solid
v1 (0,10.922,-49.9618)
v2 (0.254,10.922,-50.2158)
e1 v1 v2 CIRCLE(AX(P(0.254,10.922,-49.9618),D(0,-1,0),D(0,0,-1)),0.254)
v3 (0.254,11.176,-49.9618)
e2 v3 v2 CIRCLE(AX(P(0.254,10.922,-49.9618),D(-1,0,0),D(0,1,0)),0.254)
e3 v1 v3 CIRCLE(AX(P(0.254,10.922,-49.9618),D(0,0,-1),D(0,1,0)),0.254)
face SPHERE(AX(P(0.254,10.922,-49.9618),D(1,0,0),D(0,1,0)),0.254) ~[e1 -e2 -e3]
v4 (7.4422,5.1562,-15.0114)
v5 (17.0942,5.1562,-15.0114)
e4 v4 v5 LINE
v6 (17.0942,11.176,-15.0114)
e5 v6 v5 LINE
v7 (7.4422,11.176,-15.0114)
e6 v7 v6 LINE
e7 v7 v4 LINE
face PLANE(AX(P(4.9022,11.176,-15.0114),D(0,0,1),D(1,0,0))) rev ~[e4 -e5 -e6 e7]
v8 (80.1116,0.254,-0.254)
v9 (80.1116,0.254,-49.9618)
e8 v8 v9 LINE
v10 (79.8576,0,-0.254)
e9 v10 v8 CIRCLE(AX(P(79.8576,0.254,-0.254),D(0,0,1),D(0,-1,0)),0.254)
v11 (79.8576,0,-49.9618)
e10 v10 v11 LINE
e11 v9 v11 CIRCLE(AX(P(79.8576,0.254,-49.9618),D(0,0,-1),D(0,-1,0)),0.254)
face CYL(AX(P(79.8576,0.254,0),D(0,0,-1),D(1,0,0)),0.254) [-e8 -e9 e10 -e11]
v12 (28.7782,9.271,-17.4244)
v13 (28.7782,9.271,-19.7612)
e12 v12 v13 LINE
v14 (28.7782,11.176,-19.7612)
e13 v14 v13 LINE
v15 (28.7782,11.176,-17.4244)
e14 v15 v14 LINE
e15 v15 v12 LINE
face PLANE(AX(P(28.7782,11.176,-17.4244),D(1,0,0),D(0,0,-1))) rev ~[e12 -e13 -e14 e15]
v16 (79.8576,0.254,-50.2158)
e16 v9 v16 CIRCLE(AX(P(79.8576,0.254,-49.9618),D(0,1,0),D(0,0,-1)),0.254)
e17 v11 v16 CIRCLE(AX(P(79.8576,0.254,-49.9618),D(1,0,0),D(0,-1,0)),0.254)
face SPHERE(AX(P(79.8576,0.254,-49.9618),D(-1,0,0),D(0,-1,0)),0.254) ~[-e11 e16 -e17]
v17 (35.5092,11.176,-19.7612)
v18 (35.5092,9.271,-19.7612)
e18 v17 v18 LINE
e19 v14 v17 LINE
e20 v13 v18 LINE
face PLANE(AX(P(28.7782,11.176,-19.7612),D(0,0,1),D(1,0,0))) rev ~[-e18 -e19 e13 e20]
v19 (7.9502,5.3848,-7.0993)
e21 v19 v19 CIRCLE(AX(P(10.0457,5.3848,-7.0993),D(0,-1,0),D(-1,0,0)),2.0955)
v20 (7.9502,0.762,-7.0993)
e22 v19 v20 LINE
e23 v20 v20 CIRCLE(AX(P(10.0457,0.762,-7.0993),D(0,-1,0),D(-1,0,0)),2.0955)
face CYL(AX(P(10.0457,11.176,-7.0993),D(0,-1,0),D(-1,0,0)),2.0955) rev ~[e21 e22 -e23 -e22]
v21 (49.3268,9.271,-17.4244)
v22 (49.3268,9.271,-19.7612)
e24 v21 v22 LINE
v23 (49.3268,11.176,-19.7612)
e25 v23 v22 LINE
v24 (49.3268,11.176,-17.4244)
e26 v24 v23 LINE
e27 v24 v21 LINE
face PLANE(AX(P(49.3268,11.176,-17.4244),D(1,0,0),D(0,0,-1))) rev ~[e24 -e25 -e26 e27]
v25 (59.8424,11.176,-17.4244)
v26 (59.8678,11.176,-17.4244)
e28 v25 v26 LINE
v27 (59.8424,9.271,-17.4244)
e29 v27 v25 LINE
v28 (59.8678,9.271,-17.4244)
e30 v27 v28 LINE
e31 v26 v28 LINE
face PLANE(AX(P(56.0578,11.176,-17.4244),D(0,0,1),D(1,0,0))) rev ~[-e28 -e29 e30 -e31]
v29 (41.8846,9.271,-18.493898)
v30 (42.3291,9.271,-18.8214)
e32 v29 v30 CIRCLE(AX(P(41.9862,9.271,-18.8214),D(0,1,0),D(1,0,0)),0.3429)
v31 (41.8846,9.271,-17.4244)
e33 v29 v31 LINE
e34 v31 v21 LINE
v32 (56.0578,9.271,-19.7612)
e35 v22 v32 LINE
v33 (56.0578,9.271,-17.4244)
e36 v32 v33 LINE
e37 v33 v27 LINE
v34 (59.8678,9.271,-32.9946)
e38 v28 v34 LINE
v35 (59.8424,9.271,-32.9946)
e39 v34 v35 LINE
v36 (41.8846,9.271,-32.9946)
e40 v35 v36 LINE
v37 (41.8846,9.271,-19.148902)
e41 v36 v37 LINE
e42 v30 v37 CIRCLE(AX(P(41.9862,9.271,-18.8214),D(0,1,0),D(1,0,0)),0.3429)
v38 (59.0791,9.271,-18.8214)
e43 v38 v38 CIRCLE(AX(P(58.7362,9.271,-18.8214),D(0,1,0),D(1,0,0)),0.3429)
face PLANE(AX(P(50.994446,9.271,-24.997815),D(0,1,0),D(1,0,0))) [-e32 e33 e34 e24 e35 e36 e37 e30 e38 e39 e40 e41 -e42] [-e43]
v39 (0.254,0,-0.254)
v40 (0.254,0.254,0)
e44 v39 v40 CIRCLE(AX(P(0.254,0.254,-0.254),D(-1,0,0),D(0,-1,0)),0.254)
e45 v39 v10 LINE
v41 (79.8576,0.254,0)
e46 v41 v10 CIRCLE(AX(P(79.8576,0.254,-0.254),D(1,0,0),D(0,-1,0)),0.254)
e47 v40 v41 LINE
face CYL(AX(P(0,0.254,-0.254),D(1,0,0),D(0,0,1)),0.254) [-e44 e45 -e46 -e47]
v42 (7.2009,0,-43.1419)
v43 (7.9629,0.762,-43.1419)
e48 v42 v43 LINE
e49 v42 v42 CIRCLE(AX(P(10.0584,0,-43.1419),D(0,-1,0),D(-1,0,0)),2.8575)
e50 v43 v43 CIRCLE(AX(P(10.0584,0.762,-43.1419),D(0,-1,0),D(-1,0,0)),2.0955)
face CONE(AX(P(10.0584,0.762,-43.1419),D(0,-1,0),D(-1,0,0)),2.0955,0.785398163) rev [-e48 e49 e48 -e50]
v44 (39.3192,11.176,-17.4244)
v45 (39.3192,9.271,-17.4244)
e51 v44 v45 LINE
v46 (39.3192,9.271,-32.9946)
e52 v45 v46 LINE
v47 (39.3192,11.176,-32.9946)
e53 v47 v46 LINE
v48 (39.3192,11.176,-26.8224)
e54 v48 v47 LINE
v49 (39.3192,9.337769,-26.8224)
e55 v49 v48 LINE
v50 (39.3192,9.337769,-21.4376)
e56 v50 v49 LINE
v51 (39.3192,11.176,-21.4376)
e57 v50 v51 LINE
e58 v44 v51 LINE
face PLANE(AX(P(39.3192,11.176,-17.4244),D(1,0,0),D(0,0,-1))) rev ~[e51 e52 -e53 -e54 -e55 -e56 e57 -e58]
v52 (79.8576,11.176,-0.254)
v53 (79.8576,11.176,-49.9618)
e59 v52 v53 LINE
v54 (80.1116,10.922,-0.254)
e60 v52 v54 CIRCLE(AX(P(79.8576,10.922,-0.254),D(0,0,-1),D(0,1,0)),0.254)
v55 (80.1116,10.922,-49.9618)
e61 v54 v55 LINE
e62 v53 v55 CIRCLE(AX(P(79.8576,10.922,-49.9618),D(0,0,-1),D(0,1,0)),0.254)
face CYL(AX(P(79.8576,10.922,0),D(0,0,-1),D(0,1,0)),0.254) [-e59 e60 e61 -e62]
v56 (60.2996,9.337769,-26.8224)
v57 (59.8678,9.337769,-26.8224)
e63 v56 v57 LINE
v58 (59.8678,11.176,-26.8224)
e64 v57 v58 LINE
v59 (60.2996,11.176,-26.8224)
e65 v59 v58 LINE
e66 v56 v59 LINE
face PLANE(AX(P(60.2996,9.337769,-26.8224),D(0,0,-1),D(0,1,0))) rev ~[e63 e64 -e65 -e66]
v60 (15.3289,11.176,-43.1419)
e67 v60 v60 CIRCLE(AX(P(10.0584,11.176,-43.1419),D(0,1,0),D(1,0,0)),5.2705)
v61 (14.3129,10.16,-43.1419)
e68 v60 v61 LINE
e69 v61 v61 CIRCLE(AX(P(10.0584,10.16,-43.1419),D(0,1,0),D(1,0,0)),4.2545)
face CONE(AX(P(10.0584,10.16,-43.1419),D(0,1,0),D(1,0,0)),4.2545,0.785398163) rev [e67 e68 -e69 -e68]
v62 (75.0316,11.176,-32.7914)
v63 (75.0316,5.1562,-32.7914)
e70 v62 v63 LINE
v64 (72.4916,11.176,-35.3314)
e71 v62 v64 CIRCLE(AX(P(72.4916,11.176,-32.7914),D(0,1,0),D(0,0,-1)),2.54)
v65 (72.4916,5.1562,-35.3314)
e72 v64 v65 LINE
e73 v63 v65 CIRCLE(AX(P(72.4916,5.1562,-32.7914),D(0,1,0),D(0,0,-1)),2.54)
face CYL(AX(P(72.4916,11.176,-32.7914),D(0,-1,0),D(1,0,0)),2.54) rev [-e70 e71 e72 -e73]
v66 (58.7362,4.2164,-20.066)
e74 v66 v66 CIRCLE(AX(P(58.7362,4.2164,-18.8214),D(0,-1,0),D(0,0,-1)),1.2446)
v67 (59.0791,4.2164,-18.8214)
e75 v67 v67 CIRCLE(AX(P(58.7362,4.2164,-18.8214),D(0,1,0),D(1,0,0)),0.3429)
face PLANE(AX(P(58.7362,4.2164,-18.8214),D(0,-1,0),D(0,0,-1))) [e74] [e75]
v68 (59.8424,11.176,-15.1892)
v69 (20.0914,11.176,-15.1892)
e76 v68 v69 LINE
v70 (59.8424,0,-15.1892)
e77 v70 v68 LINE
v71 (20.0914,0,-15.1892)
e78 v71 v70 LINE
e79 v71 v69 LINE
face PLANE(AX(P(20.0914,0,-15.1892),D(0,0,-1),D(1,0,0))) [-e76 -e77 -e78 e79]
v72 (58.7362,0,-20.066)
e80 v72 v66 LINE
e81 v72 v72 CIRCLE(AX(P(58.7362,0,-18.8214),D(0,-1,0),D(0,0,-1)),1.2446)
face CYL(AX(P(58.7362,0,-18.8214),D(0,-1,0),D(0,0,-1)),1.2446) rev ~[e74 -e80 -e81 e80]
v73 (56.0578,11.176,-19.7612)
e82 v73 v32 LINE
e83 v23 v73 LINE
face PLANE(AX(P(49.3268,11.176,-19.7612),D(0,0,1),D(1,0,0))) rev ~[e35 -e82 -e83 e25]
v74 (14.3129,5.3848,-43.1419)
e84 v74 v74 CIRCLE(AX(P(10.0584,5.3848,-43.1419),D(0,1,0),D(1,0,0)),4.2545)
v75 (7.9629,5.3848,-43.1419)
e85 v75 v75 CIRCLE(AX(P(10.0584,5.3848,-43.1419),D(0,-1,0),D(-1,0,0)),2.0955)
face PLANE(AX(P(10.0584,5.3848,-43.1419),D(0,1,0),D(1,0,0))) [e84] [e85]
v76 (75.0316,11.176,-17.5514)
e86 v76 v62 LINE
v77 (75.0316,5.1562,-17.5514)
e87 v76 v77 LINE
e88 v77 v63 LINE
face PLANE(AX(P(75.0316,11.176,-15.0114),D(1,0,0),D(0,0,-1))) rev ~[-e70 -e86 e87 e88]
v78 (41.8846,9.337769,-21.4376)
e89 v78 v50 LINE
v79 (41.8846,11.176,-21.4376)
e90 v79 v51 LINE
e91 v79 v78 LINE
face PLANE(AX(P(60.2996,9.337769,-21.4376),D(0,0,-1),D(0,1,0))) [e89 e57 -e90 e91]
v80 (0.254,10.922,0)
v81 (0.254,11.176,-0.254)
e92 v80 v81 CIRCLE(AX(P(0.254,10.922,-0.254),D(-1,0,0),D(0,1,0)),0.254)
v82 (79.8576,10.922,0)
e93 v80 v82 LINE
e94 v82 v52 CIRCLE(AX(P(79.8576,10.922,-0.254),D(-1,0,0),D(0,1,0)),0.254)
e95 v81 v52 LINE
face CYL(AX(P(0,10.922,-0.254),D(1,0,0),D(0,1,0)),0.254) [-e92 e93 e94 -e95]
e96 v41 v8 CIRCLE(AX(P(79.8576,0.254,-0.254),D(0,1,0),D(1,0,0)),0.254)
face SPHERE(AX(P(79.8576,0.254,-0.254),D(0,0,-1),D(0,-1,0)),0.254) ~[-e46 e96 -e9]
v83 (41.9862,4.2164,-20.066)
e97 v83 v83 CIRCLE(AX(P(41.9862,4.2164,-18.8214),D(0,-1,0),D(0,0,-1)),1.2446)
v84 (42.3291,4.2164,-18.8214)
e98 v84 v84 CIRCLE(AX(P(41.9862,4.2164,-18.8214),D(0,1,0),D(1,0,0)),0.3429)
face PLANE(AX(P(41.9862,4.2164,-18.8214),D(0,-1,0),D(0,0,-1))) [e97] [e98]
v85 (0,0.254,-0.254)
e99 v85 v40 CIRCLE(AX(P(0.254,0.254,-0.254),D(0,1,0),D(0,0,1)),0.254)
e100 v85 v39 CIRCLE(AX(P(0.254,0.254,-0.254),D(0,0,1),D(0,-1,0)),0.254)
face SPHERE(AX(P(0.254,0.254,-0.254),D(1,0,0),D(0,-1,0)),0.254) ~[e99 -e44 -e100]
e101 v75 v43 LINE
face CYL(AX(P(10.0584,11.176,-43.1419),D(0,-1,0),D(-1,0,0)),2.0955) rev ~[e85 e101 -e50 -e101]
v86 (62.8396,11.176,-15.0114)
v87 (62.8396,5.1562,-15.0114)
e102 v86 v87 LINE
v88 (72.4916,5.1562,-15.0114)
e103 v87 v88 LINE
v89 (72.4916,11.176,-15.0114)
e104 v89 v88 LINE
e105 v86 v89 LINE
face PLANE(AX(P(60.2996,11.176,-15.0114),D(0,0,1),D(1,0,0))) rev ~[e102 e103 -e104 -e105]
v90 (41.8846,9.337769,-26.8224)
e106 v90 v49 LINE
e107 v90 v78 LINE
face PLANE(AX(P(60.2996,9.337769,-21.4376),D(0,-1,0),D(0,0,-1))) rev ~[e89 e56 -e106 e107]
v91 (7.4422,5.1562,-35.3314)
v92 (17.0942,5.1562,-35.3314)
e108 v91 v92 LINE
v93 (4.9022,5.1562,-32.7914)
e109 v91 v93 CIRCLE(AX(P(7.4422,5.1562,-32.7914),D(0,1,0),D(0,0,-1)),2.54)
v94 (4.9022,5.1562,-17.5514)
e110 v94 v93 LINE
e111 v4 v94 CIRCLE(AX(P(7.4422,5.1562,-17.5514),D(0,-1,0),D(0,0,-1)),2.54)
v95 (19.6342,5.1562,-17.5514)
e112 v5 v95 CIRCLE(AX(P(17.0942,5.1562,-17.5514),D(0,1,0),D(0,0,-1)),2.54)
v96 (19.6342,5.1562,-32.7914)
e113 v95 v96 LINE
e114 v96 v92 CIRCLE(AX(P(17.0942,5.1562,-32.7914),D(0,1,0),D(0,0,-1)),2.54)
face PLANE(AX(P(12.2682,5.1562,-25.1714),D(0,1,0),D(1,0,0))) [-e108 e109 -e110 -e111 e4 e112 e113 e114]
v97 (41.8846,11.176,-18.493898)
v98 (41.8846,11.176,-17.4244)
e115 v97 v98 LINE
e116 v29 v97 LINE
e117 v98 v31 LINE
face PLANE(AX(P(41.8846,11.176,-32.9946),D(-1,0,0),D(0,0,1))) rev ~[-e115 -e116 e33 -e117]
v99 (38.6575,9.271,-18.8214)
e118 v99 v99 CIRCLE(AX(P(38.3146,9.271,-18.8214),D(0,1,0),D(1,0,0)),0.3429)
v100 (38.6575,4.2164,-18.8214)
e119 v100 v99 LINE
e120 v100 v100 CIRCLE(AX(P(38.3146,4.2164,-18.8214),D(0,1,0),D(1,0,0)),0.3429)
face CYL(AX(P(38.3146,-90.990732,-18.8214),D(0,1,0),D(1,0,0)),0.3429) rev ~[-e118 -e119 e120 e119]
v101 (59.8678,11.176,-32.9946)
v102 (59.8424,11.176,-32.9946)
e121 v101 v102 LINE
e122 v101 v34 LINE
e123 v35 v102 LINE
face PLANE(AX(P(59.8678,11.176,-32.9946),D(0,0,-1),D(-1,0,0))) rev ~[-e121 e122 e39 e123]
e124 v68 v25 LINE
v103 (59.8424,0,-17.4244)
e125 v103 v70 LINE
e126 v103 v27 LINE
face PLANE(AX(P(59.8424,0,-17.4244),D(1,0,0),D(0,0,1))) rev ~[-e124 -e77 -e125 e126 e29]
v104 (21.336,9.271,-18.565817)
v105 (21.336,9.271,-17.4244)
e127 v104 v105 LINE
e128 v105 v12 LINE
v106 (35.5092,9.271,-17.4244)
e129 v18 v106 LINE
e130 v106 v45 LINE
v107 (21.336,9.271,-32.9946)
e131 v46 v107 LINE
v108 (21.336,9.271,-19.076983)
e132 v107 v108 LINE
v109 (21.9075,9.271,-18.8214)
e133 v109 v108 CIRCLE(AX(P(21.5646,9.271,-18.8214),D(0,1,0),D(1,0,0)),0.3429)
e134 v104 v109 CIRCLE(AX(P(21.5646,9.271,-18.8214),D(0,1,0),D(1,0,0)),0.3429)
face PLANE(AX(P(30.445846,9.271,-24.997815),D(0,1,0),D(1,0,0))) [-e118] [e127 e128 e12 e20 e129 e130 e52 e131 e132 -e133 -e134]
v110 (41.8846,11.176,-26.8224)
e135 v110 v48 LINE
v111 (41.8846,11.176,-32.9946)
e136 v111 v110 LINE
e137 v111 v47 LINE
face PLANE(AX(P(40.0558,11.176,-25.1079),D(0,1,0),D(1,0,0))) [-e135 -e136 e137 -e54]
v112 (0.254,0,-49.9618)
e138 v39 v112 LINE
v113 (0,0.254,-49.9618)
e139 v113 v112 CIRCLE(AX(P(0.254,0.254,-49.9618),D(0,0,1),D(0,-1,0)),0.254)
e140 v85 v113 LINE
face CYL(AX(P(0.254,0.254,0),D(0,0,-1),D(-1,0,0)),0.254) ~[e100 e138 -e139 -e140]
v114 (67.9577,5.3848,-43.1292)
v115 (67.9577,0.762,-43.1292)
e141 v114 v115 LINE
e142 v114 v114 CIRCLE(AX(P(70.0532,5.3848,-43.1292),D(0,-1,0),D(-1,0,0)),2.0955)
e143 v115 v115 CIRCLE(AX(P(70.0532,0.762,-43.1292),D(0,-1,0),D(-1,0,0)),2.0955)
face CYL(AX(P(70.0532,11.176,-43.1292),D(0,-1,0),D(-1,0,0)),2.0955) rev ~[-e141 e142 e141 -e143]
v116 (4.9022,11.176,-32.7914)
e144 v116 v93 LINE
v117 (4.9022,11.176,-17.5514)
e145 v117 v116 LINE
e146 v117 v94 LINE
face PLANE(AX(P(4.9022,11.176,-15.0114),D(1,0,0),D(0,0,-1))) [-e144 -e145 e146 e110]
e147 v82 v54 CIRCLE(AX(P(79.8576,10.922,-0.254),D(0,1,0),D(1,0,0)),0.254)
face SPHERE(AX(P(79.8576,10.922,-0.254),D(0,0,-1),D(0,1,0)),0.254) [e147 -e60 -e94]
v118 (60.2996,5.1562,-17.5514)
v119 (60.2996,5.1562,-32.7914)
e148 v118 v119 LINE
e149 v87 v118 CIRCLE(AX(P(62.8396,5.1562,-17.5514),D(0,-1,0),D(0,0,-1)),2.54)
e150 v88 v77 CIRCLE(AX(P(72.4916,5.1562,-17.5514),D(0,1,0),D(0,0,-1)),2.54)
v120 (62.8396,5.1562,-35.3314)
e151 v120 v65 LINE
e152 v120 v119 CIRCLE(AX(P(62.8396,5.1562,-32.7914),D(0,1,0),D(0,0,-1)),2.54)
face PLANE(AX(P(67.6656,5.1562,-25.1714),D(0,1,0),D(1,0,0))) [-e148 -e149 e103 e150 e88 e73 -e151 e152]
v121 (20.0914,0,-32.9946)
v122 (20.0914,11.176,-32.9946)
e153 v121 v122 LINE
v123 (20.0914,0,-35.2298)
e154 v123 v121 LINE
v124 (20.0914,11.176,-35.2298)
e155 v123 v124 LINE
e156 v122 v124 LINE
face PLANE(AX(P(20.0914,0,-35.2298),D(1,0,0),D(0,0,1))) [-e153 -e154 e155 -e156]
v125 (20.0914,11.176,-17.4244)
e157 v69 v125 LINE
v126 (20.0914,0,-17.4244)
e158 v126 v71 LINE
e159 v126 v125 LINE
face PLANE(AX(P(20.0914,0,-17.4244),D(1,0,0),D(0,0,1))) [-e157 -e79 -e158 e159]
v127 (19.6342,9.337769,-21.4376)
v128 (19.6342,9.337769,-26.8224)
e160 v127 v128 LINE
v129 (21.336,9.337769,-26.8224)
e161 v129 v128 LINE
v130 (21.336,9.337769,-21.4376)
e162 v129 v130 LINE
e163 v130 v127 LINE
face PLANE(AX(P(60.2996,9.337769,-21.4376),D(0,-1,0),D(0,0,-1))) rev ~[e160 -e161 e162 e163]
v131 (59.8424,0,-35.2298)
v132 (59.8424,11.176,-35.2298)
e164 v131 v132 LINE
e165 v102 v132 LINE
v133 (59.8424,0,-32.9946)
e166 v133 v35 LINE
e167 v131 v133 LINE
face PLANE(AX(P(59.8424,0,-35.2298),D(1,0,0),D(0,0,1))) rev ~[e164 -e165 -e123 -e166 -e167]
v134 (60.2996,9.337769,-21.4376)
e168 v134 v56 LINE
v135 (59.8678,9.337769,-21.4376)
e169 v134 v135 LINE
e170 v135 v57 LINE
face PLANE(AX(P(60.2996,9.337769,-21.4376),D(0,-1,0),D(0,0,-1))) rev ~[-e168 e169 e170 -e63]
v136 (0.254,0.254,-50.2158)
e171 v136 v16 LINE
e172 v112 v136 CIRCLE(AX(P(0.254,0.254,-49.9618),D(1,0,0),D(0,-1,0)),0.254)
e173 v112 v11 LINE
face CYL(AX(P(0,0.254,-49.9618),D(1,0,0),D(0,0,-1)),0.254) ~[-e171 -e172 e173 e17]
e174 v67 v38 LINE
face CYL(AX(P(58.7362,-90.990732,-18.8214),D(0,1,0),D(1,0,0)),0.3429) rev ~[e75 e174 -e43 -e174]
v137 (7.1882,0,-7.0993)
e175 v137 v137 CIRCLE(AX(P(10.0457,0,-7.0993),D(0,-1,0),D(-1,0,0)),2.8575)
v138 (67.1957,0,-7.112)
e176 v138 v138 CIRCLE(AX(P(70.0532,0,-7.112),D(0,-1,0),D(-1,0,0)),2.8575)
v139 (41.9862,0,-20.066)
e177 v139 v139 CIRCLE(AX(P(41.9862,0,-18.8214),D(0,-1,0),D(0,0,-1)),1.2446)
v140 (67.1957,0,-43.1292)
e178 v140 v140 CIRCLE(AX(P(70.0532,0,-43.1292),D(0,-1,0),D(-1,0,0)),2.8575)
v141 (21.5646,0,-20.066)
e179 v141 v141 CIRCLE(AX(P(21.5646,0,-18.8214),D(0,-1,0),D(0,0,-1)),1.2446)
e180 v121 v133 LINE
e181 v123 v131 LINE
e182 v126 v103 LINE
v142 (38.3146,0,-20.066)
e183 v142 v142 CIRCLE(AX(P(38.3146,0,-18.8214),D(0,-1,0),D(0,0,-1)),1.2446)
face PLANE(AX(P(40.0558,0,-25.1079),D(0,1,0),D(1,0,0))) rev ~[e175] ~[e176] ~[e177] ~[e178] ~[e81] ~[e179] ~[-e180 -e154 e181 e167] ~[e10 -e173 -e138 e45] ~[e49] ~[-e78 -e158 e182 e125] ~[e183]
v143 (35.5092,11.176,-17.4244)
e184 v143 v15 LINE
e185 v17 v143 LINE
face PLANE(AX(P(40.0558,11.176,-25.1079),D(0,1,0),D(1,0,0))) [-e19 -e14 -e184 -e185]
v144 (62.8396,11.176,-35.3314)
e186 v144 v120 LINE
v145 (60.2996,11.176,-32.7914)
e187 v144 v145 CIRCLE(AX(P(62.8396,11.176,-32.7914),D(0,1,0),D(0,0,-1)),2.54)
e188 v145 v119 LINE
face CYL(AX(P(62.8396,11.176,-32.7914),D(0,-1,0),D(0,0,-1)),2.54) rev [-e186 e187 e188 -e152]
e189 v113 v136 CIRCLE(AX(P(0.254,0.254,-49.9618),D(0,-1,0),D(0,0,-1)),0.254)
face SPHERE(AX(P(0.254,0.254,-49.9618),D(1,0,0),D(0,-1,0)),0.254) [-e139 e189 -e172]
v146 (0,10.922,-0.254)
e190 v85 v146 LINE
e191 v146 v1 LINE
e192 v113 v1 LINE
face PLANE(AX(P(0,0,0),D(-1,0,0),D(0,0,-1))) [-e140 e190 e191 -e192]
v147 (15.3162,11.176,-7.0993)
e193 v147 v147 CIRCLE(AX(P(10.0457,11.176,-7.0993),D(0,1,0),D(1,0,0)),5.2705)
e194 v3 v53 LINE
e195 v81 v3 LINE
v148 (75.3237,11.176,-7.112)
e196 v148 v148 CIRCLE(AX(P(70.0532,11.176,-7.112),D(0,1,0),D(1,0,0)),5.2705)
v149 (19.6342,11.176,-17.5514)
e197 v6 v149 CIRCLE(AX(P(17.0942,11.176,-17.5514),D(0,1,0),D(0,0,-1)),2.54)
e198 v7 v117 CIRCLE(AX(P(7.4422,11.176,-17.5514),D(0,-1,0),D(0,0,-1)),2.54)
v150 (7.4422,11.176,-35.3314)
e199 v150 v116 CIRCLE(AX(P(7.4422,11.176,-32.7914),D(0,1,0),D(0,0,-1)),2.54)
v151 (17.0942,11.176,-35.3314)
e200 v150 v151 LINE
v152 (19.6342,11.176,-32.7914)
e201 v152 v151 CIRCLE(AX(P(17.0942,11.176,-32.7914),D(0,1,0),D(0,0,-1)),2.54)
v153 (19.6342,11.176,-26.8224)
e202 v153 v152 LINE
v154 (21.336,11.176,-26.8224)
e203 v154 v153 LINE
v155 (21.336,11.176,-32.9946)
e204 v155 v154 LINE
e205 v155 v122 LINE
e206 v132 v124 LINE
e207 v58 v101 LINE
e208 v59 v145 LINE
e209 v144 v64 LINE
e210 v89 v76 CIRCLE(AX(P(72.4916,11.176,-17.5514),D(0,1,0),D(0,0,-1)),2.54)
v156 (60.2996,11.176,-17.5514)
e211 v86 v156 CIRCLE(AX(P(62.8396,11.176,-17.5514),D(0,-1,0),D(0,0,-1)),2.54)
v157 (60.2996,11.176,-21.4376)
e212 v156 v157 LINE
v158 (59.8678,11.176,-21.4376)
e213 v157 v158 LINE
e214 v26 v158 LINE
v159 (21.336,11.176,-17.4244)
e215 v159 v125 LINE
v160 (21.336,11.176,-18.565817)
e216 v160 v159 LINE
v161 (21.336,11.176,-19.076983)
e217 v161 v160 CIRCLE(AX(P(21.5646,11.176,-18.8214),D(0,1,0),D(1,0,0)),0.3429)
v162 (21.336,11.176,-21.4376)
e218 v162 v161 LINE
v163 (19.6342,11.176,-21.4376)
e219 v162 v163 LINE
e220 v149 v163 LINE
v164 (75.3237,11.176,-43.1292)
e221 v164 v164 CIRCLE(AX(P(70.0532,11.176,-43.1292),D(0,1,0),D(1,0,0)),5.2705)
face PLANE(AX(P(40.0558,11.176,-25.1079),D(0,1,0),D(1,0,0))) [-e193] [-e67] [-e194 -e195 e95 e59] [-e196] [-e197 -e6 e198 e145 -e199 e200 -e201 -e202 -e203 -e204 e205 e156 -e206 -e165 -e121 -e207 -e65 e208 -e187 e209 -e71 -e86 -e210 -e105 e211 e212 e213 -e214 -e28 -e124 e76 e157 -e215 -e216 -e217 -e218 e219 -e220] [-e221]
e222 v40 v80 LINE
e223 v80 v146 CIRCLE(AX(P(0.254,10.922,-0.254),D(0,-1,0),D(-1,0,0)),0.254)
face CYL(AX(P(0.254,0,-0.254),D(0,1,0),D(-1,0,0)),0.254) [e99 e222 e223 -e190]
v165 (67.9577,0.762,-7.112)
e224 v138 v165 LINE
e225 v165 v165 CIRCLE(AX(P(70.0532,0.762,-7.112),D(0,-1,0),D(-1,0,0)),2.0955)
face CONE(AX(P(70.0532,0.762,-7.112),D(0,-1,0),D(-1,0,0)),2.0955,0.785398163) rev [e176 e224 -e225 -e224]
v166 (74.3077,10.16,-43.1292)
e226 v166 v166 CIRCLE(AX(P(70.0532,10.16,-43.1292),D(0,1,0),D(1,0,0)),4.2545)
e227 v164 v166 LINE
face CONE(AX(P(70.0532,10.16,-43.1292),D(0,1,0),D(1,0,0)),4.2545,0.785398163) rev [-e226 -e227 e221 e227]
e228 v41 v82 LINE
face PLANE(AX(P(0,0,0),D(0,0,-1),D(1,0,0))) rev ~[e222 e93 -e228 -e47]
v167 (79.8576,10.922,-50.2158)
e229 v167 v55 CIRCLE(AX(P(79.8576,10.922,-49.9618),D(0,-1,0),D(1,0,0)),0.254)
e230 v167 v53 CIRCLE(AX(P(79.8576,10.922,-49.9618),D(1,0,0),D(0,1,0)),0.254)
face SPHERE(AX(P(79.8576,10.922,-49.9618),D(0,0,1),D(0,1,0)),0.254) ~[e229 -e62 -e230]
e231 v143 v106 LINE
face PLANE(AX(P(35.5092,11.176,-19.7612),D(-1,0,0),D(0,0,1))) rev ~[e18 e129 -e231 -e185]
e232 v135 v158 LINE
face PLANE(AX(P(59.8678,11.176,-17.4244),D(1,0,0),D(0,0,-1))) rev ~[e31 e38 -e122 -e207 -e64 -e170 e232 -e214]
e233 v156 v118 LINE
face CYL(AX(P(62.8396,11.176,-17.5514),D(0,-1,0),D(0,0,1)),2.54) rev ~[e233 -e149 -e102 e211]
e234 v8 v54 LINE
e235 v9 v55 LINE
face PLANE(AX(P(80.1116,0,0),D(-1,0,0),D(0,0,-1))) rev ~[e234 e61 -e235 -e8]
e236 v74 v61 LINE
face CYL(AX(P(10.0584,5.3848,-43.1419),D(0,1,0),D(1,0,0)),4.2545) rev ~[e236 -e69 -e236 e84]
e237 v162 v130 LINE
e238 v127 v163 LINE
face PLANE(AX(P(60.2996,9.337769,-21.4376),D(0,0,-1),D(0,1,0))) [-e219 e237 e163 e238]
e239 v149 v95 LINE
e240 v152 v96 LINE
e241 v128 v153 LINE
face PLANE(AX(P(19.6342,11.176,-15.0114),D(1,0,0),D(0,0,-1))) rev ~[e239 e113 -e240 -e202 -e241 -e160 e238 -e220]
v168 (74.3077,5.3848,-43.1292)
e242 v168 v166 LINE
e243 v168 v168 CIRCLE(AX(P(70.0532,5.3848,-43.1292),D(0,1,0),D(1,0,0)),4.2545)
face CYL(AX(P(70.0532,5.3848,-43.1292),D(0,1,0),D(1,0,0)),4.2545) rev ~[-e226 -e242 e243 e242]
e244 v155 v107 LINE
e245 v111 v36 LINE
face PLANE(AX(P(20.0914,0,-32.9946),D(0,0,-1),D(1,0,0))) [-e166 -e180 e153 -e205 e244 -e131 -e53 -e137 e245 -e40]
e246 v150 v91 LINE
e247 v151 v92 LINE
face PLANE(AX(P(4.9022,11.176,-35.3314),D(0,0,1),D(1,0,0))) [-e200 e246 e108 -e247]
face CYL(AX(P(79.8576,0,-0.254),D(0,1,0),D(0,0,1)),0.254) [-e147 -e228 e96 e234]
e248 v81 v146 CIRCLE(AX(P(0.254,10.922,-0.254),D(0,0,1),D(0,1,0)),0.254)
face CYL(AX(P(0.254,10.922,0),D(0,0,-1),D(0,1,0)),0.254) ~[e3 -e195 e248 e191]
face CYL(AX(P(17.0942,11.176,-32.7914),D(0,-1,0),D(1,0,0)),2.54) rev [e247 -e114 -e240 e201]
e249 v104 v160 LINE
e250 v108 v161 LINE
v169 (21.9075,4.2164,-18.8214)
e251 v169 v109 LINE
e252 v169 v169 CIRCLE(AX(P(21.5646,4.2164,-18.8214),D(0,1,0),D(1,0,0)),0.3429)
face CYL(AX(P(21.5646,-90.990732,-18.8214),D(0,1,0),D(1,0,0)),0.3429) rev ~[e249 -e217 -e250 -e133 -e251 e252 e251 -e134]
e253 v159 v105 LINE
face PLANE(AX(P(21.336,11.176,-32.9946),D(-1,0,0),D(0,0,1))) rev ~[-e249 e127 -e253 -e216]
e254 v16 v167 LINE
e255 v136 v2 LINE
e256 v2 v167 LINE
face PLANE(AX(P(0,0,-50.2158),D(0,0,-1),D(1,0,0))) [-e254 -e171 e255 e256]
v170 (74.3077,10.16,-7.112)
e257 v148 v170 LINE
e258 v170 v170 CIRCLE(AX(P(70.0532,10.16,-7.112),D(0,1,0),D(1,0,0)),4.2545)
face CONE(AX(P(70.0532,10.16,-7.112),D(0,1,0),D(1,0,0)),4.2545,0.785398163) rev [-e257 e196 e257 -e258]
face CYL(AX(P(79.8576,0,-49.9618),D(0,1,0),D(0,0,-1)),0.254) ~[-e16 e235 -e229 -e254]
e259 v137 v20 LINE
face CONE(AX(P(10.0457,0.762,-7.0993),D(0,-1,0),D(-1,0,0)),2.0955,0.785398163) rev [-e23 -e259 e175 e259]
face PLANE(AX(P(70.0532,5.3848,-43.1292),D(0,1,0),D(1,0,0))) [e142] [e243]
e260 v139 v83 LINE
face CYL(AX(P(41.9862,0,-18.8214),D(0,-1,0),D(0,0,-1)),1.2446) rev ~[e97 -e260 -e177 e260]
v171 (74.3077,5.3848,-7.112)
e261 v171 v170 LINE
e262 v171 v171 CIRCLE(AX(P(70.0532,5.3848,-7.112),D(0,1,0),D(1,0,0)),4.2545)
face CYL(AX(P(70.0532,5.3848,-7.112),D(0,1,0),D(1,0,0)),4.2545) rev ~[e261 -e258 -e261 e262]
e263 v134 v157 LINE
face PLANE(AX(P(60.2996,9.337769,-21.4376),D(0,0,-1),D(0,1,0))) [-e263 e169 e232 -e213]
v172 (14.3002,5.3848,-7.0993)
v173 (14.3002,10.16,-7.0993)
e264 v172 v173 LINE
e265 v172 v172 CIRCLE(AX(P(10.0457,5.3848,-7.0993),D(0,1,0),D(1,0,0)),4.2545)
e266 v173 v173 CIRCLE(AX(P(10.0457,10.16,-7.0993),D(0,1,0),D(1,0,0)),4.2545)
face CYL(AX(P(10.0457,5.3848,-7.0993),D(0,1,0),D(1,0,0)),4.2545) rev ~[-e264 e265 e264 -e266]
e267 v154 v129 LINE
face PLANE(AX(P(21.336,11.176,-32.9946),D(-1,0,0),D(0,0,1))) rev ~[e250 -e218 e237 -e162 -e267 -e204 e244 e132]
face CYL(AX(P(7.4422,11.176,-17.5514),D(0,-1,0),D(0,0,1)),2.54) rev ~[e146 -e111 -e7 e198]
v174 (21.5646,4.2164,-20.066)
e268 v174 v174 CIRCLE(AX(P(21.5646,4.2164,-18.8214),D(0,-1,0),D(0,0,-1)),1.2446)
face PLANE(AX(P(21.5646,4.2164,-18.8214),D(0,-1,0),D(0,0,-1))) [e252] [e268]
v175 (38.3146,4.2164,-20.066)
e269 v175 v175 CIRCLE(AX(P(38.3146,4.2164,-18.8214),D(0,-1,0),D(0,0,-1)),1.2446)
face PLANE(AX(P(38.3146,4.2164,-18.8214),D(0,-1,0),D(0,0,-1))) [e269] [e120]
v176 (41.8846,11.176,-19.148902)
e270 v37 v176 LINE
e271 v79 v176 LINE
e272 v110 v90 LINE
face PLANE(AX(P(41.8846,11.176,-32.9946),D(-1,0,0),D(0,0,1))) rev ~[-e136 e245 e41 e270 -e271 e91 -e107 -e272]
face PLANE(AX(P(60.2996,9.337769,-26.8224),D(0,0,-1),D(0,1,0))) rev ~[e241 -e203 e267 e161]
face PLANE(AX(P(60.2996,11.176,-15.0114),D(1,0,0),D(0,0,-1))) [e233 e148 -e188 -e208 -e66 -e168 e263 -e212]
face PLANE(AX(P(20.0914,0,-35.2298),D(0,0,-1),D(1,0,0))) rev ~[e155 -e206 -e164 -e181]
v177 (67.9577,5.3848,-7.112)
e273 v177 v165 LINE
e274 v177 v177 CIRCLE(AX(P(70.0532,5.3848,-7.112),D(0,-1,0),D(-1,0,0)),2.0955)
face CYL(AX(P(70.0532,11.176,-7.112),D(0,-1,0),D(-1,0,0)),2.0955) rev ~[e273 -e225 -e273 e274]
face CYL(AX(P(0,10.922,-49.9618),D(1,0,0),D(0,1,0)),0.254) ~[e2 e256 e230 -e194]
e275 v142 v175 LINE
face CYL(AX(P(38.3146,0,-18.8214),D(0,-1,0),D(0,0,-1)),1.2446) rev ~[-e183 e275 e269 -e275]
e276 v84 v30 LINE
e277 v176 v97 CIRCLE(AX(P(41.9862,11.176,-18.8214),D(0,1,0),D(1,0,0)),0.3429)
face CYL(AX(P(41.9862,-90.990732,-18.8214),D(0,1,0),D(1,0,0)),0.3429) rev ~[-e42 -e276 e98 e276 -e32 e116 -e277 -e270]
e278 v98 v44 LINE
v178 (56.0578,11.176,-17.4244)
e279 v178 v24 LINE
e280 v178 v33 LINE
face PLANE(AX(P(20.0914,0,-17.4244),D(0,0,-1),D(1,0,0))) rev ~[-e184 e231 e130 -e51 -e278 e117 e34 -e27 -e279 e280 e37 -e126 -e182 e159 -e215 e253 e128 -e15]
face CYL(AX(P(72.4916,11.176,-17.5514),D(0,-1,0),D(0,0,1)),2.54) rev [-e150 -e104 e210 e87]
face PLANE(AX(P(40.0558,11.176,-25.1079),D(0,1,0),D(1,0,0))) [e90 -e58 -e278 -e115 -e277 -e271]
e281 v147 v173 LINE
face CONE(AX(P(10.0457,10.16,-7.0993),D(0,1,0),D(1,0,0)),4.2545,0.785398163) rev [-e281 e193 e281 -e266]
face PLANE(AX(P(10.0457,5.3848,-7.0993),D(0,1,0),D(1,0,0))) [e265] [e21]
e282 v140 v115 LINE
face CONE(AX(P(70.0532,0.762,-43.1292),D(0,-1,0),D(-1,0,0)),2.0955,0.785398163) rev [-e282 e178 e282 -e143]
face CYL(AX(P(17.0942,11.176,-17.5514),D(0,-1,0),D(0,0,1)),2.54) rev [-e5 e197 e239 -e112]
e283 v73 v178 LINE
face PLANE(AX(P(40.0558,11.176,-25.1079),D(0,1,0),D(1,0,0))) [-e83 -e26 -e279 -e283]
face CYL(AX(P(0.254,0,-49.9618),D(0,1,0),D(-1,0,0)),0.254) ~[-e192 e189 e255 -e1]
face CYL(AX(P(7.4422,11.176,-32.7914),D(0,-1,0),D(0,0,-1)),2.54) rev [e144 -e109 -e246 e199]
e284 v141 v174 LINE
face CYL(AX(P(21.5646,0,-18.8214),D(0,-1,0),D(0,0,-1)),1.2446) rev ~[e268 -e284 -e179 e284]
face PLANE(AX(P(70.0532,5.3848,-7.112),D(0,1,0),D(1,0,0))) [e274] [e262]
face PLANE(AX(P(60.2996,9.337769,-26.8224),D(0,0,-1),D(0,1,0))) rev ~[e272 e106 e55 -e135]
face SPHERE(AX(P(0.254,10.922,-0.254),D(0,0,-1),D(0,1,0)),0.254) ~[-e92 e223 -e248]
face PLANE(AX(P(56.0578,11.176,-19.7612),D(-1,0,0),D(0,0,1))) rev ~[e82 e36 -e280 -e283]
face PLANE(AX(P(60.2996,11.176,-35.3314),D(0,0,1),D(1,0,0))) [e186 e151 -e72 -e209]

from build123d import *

# Parameters (mm, degrees)
SKETCH1_W             = 80.1116
SKETCH1_H             = 50.2158
BOSS_EXTRUDE1_DEPTH   = 11.176
HOLE1_D               = 4.191
HOLE1_CBORE_D         = 8.509
HOLE1_CBORE_DEPTH     = 5.7912
CHAMFER1_SIZE         = 1.016
FILLET1_R             = 0.254
CHAMFER2_SIZE         = 0.762
SKETCH4_W             = 39.751
SKETCH4_H             = 2.2352
CUT_EXTRUDE1_DEPTH    = 96.207132087
SKETCH5_R             = 1.2446
CUT_EXTRUDE2_DEPTH    = 4.2164
LPATTERN1_COUNT       = 2
LPATTERN1_PITCH       = 20.4216
F_1_0MM_DOWEL_HOLE1_D = 0.6858
SKETCH12_W            = 14.732
SKETCH12_H            = 20.32
CUT_EXTRUDE3_DEPTH    = 6.0198
FILLET2_R             = 2.54
CUT_EXTRUDE4_DEPTH    = 1.905
CUT_EXTRUDE5_REACH    = 81.263
SKETCH14_W            = 5.3848
SKETCH14_H            = 1.838231329


with BuildPart() as part:
    # Sketch1 → Boss-Extrude1 (new body)
    with BuildSketch(Plane(origin=(0, 0, 0), x_dir=(1, 0, 0), z_dir=(0, 1, 0))):
        with Locations((40.0558, 25.1079)):
            Rectangle(SKETCH1_W, SKETCH1_H)
    extrude(amount=BOSS_EXTRUDE1_DEPTH)

    # Hole1 (through all)
    with Locations(Plane(origin=(0, 11.176, 0), x_dir=(1, 0, 0), z_dir=(0, 1, 0))):
        with Locations((10.0457, 7.0993), (10.0584, 43.1419), (70.0532, 43.1292), (70.0532, 7.112)):
            CounterBoreHole(HOLE1_D / 2, HOLE1_CBORE_D / 2, HOLE1_CBORE_DEPTH)

    # Chamfer1
    chamfer1_edges = [part.edges().sort_by_distance(p)[0] for p in [
        (65.7987, 11.176, -7.112),
        (65.7987, 11.176, -43.1292),
        (5.8039, 11.176, -43.1419),
        (5.7912, 11.176, -7.0993),
    ]]
    chamfer(chamfer1_edges, length=CHAMFER1_SIZE)

    # Fillet1
    fillet1_edges = [part.edges().sort_by_distance(p)[0] for p in [
        (80.1116, 11.176, -25.1079),
        (40.0558, 11.176, -50.2158),
        (0, 11.176, -25.1079),
        (40.0558, 0, -50.2158),
        (80.1116, 0, -25.1079),
        (40.0558, 0, 0),
        (0, 0, -25.1079),
        (40.0558, 11.176, 0),
        (0, 5.588, -50.2158),
        (80.1116, 5.588, -50.2158),
        (80.1116, 5.588, 0),
        (0, 5.588, 0),
    ]]
    fillet(fillet1_edges, radius=FILLET1_R)

    # Chamfer2
    chamfer2_edges = [part.edges().sort_by_distance(p)[0] for p in [
        (72.1487, 0, -7.112),
        (72.1487, 0, -43.1292),
        (12.1539, 0, -43.1419),
        (12.1412, 0, -7.0993),
    ]]
    chamfer(chamfer2_edges, length=CHAMFER2_SIZE)

    # Sketch4 → Cut-Extrude1 (cut, through all)
    with BuildSketch(Plane.XZ):
        with Locations((39.9669, -16.3068)):
            Rectangle(SKETCH4_W, SKETCH4_H)
        with Locations((39.9669, -34.1122)):
            Rectangle(SKETCH4_W, SKETCH4_H)
    extrude(amount=-CUT_EXTRUDE1_DEPTH, mode=Mode.SUBTRACT)

    # Sketch5 → Cut-Extrude2 (cut)
    with BuildSketch(Plane.XZ):
        with Locations(Location((21.5646, -18.8214, 0), (0, 0, 270))):
            Circle(SKETCH5_R)
        with Locations(Location((38.3146, -18.8214, 0), (0, 0, 270))):
            Circle(SKETCH5_R)
    cut_extrude2 = extrude(amount=-CUT_EXTRUDE2_DEPTH, mode=Mode.SUBTRACT)

    # LPattern1: Cut-Extrude2 ×2
    with Locations(*[(i * LPATTERN1_PITCH, 0, 0) for i in range(1, LPATTERN1_COUNT)]):
        add(cut_extrude2, mode=Mode.SUBTRACT)

    # Ø1.0mm Dowel Hole1 (through all)
    with Locations(Plane(origin=(0, 4.2164, 0), x_dir=(-1, 0, 0), z_dir=(0, -1, 0))):
        with Locations((-21.5646, 18.8214), (-38.3146, 18.8214), (-41.9862, 18.8214), (-58.7362, 18.8214)):
            Hole(F_1_0MM_DOWEL_HOLE1_D / 2)

    # Sketch12 → Cut-Extrude3 (cut)
    with BuildSketch(Plane(origin=(0, 11.176, 0), x_dir=(1, 0, 0), z_dir=(0, 1, 0))):
        with Locations((12.2682, 25.1714)):
            Rectangle(SKETCH12_W, SKETCH12_H)
        with Locations((67.6656, 25.1714)):
            Rectangle(SKETCH12_W, SKETCH12_H)
    extrude(amount=-CUT_EXTRUDE3_DEPTH, mode=Mode.SUBTRACT)

    # Fillet2
    fillet2_edges = [part.edges().sort_by_distance(p)[0] for p in [
        (4.9022, 8.1661, -15.0114),
        (4.9022, 8.1661, -35.3314),
        (19.6342, 8.1661, -35.3314),
        (19.6342, 8.1661, -15.0114),
        (60.2996, 8.1661, -15.0114),
        (60.2996, 8.1661, -35.3314),
        (75.0316, 8.1661, -35.3314),
        (75.0316, 8.1661, -15.0114),
    ]]
    fillet(fillet2_edges, radius=FILLET2_R)

    # Sketch13 → Cut-Extrude4 (cut)
    with BuildSketch(Plane(origin=(0, 11.176, 0), x_dir=(1, 0, 0), z_dir=(0, 1, 0))):
        Polygon((28.7782, 19.7612), (35.5092, 19.7612), (35.5092, 17.4244), (39.3192, 17.4244), (39.3192, 19.7612), (39.3192, 32.9946), (21.336, 32.9946), (21.336, 19.7612), (21.336, 17.4244), (28.7782, 17.4244), align=None)
        Polygon((49.3268, 19.7612), (56.0578, 19.7612), (56.0578, 17.4244), (59.8678, 17.4244), (59.8678, 19.7612), (59.8678, 32.9946), (41.8846, 32.9946), (41.8846, 19.7612), (41.8846, 17.4244), (49.3268, 17.4244), align=None)
    extrude(amount=-CUT_EXTRUDE4_DEPTH, mode=Mode.SUBTRACT)

    # Cut-Extrude5: up to this face of the body (flat: up to its plane)
    cut_extrude5_end = Plane(part.part.faces().sort_by_distance((19.6342, 8.1661, -25.1714))[0])
    # Sketch14 → Cut-Extrude5 (cut, up to the picked face)
    with BuildSketch(Plane(origin=(60.2996, 0, 0), x_dir=(0, 0, -1), z_dir=(1, 0, 0)), mode=Mode.PRIVATE) as cut_extrude5_sk1:
        with Locations((24.13, 10.256884336)):
            Rectangle(SKETCH14_W, SKETCH14_H)
    cut_extrude5_tool1 = split(extrude(cut_extrude5_sk1.sketch, amount=-CUT_EXTRUDE5_REACH, mode=Mode.PRIVATE), bisect_by=cut_extrude5_end, keep=Keep.BOTH, mode=Mode.PRIVATE)
    add(cut_extrude5_tool1.solids().sort_by(Axis((60.2996, 10.256884, -24.13), (-1, 0, 0)))[0], mode=Mode.SUBTRACT)


solid = part.part
